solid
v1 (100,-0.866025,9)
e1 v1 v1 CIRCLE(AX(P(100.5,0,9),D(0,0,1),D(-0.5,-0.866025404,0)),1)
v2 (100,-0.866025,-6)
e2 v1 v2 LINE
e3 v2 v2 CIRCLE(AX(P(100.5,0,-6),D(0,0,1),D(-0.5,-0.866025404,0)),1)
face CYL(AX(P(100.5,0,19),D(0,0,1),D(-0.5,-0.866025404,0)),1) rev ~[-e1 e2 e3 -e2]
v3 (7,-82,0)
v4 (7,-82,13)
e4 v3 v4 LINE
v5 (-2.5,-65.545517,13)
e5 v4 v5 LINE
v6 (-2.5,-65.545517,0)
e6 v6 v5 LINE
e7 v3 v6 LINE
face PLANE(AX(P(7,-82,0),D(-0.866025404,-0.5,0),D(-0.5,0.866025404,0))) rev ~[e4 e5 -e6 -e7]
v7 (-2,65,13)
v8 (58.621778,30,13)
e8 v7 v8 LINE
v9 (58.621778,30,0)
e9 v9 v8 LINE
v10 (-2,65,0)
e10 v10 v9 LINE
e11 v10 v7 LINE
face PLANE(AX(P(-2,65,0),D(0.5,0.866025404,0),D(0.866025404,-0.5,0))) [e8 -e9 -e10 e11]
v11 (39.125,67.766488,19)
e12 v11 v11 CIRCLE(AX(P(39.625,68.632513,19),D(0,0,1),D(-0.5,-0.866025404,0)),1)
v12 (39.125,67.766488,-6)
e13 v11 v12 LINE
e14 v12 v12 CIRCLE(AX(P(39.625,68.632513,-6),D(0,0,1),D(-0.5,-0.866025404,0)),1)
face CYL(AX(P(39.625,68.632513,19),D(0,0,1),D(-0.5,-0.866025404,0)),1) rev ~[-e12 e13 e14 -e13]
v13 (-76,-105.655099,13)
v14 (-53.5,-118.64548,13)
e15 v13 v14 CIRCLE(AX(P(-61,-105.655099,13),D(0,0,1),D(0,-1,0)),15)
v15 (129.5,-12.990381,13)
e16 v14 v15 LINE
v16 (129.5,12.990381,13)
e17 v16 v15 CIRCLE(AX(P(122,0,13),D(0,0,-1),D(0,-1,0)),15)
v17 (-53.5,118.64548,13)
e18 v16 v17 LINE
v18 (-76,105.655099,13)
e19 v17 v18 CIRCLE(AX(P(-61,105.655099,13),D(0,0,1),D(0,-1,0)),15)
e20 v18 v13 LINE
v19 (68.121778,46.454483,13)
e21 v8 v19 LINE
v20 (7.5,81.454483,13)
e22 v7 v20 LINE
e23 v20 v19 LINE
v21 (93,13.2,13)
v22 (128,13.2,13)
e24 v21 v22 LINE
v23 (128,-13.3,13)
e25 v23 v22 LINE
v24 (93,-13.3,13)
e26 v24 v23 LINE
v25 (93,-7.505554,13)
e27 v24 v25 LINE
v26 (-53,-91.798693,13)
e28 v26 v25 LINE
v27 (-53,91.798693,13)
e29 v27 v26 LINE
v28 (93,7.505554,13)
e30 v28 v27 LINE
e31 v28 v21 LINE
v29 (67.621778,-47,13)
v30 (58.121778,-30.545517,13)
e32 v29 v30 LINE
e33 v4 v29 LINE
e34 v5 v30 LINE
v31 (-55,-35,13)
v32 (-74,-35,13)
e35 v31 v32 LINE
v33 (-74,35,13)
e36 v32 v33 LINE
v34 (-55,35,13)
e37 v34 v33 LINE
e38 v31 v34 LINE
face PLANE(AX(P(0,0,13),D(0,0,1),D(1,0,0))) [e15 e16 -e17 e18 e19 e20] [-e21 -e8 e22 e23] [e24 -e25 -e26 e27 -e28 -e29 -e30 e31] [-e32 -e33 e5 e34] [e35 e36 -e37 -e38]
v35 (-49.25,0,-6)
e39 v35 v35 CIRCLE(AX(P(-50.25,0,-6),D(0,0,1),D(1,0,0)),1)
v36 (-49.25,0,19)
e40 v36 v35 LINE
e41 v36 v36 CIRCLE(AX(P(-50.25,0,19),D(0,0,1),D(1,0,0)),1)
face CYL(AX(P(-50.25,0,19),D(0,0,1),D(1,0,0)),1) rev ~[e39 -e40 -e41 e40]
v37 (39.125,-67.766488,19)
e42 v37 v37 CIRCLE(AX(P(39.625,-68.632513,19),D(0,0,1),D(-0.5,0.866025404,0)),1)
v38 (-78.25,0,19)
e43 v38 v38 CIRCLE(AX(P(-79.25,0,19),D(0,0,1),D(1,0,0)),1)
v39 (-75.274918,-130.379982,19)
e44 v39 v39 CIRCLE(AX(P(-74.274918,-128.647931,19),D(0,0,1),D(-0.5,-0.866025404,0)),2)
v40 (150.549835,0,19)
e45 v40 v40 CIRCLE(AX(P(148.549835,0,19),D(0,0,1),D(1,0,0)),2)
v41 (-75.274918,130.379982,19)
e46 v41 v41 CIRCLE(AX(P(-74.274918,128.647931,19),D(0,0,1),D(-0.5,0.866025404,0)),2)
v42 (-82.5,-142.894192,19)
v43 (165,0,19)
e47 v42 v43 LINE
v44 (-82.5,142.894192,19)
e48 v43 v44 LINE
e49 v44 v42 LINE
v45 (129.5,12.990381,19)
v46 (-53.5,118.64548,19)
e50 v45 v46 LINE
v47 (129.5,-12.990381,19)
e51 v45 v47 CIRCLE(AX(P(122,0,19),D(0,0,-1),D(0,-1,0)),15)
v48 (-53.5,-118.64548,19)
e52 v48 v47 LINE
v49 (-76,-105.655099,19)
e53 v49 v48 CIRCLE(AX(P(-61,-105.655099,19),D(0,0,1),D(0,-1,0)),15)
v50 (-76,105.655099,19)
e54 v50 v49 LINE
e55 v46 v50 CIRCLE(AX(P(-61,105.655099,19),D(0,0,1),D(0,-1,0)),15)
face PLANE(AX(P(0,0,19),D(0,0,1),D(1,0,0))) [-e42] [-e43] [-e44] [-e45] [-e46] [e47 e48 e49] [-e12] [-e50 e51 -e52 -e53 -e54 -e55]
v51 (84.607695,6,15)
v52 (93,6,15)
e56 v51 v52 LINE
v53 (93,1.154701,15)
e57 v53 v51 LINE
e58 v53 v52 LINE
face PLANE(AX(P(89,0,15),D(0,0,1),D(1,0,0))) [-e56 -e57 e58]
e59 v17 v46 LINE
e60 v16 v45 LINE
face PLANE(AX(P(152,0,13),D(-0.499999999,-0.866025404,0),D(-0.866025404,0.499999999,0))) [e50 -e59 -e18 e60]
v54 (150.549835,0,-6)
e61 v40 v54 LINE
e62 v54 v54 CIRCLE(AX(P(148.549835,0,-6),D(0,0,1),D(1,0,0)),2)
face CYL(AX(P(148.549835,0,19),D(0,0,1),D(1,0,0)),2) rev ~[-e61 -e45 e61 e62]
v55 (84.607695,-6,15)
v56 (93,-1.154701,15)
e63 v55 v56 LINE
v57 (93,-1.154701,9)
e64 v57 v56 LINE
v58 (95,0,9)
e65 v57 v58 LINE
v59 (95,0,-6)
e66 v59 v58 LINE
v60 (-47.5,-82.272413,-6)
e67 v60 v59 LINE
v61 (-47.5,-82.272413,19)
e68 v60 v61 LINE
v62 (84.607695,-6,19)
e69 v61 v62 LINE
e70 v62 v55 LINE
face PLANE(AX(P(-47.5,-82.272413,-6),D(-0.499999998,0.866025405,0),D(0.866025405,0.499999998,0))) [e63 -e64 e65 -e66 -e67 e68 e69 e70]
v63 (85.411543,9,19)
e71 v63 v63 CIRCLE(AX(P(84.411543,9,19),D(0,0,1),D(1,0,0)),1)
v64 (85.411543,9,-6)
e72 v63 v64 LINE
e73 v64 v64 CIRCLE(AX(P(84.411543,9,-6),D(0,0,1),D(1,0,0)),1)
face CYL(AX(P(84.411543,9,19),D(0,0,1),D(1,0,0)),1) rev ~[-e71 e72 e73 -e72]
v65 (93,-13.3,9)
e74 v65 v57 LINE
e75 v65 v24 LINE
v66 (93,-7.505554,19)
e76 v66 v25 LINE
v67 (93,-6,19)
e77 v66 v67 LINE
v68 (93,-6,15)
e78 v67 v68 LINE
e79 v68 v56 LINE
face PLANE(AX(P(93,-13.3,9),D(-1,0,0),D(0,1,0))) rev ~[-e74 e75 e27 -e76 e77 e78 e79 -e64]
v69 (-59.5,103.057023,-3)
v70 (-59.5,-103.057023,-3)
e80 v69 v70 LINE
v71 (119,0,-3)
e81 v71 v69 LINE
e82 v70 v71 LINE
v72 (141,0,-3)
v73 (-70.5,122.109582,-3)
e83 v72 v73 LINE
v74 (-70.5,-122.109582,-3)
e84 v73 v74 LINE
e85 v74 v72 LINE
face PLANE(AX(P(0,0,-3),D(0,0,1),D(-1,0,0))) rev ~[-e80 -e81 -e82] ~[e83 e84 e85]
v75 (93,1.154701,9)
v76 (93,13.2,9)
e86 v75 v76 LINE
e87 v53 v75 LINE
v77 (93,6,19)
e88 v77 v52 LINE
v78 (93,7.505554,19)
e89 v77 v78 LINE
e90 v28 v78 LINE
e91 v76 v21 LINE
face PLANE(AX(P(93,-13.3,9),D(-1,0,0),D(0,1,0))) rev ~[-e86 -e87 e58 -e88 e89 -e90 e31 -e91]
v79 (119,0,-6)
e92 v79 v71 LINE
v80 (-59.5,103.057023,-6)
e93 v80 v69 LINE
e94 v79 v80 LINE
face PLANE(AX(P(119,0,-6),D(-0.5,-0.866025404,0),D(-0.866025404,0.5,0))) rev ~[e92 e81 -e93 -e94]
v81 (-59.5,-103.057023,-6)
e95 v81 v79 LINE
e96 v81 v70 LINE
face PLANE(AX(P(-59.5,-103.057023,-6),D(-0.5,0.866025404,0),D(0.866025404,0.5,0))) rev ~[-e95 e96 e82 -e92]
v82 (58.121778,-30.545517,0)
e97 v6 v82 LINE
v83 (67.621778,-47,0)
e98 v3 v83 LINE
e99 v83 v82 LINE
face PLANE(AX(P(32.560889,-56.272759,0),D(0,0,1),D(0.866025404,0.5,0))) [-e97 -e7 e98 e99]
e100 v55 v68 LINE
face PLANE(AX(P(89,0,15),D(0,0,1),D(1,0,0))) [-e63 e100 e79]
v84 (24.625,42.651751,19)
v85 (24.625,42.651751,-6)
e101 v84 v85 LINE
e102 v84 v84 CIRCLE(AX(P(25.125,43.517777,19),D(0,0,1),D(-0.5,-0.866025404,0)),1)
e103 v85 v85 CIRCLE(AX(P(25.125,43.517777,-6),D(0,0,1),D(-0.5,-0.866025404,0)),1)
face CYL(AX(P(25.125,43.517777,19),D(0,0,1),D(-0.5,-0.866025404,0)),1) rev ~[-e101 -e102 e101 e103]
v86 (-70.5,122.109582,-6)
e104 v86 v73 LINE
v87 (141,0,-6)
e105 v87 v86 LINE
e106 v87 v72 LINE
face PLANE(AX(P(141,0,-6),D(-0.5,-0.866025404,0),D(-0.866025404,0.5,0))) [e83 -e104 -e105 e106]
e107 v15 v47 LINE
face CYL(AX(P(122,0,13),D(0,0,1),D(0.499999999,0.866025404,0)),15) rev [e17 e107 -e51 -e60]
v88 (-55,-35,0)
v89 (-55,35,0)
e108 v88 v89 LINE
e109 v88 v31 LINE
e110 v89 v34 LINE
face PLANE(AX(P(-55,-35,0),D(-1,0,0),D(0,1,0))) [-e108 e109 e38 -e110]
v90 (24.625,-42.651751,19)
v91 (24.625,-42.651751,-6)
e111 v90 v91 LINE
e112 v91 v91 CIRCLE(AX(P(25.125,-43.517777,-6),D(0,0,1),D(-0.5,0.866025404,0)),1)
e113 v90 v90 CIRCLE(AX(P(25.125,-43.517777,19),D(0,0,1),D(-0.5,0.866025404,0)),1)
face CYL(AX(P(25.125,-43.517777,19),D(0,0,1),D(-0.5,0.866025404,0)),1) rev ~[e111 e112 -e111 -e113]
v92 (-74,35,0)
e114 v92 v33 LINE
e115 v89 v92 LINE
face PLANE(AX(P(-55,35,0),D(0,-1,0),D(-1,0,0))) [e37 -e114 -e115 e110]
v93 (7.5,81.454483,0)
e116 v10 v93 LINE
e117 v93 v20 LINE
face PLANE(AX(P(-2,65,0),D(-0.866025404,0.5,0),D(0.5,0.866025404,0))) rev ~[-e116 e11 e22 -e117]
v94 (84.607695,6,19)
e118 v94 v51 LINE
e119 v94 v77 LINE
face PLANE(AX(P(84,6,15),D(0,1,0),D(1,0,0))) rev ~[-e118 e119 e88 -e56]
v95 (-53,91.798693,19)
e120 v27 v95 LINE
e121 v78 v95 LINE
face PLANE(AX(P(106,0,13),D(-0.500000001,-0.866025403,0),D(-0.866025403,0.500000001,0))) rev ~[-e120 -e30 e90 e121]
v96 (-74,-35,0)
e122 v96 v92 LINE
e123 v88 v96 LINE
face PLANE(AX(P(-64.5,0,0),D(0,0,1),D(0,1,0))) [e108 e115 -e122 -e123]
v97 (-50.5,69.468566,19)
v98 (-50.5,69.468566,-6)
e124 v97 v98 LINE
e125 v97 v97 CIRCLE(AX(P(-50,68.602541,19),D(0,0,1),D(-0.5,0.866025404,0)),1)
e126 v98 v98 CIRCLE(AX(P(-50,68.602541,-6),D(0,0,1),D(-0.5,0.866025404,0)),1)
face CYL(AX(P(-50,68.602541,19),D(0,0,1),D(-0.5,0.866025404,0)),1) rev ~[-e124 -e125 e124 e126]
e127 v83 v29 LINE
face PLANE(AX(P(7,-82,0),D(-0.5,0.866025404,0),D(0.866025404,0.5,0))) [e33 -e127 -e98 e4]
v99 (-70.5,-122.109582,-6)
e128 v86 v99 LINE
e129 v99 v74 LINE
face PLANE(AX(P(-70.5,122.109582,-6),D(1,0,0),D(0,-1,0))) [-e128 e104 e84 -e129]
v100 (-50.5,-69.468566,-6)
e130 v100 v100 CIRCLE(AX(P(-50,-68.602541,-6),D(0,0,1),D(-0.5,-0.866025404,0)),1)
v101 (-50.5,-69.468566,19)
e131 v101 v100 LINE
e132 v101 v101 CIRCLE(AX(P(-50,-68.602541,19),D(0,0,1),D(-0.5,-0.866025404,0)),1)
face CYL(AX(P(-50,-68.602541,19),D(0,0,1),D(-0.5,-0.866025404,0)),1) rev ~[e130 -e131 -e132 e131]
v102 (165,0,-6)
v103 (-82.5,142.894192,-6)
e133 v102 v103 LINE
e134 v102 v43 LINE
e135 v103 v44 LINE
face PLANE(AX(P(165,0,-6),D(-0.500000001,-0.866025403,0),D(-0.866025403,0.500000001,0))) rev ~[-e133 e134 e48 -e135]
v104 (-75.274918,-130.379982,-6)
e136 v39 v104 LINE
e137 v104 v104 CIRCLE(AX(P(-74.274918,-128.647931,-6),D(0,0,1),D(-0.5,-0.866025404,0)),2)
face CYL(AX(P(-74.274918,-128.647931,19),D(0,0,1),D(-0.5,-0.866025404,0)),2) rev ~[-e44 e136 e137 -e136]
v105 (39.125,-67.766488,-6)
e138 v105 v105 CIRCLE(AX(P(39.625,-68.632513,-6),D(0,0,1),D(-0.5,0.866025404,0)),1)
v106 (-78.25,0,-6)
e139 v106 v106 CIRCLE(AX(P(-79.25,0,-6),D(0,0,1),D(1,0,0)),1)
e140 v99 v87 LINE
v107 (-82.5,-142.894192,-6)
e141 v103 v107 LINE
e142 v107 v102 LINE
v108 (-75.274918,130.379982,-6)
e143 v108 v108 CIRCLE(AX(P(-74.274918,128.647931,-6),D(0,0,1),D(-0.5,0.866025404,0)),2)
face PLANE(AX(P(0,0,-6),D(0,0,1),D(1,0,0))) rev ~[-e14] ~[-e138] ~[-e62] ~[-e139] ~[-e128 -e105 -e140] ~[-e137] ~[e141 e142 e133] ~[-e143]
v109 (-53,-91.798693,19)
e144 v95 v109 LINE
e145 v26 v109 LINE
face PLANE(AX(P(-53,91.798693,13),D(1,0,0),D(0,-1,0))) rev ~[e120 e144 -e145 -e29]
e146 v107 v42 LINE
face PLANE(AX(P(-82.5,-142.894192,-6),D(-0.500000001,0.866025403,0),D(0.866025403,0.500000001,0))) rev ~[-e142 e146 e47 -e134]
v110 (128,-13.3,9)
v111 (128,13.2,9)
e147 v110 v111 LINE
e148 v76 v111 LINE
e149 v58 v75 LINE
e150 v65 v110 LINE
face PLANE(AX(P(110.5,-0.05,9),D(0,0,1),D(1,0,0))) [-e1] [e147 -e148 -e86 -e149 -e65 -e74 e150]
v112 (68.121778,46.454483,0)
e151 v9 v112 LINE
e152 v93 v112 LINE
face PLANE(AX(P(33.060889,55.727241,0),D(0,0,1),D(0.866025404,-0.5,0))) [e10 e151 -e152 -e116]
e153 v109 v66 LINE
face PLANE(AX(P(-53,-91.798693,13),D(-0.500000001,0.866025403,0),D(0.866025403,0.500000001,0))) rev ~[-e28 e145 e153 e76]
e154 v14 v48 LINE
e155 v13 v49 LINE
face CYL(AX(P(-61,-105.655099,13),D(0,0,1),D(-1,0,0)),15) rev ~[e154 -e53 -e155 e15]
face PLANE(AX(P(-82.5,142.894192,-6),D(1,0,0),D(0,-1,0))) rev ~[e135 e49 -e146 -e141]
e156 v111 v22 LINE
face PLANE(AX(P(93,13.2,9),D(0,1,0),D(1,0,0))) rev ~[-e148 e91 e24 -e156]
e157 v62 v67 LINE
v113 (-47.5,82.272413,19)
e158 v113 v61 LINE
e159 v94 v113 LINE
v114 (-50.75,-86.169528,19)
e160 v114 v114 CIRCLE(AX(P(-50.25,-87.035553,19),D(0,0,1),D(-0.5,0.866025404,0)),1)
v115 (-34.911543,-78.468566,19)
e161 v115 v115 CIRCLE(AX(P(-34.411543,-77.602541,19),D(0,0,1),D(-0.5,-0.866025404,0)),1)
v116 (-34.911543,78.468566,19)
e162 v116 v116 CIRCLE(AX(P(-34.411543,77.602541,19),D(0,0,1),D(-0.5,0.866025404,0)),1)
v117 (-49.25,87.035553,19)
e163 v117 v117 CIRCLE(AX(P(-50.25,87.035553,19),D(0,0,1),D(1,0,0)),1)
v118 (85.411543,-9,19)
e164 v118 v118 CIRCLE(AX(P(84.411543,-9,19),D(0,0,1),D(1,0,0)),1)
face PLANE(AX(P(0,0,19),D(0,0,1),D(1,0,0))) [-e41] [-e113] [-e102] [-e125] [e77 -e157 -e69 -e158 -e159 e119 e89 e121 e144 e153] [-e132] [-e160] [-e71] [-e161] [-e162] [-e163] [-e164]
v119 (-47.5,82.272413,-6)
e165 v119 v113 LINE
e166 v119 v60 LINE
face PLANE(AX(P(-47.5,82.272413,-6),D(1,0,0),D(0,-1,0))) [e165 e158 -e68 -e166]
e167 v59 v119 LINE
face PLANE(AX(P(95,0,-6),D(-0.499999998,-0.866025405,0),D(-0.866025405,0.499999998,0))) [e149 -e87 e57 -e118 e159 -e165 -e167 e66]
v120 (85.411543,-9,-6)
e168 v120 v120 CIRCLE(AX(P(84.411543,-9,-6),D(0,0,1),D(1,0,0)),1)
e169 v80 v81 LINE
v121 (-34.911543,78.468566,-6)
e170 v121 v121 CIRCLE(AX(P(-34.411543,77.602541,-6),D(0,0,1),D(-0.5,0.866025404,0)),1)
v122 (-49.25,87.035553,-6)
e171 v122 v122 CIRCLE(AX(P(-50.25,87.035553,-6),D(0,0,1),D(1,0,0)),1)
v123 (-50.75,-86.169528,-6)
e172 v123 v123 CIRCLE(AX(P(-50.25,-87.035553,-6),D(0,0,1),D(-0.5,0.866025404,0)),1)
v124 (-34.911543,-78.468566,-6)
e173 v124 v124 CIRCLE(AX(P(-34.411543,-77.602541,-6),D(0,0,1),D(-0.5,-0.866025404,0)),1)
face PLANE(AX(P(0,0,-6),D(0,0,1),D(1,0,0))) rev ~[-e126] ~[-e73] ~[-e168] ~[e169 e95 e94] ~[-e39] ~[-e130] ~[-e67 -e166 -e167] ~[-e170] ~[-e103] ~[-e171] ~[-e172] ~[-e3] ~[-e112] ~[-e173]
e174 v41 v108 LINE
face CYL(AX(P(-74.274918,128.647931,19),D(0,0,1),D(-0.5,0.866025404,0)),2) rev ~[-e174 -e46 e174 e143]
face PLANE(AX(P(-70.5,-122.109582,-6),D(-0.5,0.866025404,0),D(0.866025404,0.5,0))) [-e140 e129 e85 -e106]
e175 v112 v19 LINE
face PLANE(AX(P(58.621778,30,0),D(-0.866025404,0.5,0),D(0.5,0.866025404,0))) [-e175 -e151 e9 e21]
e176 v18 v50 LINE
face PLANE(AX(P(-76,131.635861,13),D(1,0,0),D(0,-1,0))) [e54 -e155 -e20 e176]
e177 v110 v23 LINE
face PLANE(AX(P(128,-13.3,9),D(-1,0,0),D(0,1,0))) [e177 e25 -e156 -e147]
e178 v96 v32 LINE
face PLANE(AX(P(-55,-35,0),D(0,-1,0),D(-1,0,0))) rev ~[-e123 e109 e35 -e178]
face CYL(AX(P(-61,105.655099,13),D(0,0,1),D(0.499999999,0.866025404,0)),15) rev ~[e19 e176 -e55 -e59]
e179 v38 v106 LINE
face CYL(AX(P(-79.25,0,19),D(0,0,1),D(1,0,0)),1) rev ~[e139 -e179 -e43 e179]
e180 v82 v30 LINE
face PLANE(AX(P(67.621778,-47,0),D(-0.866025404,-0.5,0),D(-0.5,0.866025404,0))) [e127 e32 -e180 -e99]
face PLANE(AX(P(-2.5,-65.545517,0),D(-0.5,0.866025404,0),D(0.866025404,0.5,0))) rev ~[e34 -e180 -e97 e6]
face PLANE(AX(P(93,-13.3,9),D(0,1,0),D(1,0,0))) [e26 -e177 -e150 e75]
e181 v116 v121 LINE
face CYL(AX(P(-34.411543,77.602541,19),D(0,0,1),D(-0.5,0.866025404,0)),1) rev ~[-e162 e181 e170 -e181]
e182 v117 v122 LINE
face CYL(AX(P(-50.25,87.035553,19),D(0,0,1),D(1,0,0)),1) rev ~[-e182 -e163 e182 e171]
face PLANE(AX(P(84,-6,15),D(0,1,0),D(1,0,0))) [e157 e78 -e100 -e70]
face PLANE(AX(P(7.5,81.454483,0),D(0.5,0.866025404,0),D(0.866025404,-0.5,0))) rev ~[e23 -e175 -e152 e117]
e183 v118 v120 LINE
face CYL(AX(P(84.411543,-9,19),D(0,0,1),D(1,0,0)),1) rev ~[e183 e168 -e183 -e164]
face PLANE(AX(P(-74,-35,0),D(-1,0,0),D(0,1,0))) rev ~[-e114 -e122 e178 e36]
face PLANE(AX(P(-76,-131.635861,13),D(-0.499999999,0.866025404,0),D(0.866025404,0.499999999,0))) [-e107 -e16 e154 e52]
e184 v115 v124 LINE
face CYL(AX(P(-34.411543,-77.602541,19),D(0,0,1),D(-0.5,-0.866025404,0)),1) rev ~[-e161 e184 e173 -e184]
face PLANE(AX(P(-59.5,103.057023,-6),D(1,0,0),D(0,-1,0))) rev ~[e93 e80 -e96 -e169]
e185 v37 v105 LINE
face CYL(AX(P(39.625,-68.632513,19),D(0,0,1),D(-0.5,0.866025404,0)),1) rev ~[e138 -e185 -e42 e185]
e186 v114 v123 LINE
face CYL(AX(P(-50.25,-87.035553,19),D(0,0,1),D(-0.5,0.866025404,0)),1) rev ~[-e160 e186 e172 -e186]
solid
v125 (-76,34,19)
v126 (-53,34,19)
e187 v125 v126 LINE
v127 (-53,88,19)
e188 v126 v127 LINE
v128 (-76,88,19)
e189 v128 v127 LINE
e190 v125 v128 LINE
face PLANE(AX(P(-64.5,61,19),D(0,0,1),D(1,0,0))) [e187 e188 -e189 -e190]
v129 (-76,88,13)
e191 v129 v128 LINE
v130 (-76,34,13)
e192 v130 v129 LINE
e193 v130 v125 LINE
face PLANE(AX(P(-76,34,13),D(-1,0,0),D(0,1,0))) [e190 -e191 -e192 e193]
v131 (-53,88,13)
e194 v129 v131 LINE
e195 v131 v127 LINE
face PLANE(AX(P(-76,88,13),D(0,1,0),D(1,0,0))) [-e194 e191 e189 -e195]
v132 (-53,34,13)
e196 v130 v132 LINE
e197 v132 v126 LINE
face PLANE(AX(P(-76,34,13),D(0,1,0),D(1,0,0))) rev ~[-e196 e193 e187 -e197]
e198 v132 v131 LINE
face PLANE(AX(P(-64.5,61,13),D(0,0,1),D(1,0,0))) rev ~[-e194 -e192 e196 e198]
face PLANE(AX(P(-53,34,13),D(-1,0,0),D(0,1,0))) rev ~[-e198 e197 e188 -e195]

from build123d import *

# Parameters (mm, degrees)
BOX005_W               = 23
BOX005_H               = 54
BOX005_DEPTH           = 6
PRISM003_DEPTH         = 6
PRISM002_DEPTH         = 6
BOX004_W               = 10
BOX004_H               = 12
BOX004_DEPTH           = 4
BOX003_W               = 35
BOX003_H               = 26.5
BOX003_DEPTH           = 10
BOX002_W               = 70
BOX002_H               = 19
BOX002_DEPTH           = 19
BOX002_PLACEMENT_ANGLE = 30
BOX001_W               = 70
BOX001_H               = 19
BOX001_DEPTH           = 19
BOX001_PLACEMENT_ANGLE = 90
BOX_W                  = 70
BOX_H                  = 19
BOX_DEPTH              = 19
BOX_PLACEMENT_ANGLE    = 30
PRISM001_DEPTH         = 25
PRISM_DEPTH            = 25
FILLET_R               = 15
SKETCH001_R            = 2
POCKET_DEPTH           = 782.777352
POLARPATTERN_COUNT     = 3
POCKET001_DEPTH        = 3
SKETCH002_R            = 1
POCKET002_DEPTH        = 782.777352
POLARPATTERN001_COUNT  = 3
SKETCH004_R            = 1
POCKET003_DEPTH        = 782.777352
POLARPATTERN002_COUNT  = 3
POLARPATTERN003_COUNT  = 3
SKETCH005_R            = 1
POCKET004_DEPTH        = 782.777352
POLARPATTERN004_COUNT  = 3


with BuildPart() as box005:
    # Box005 → Box005 (new body)
    with BuildSketch(Plane(origin=(-76, 34, 13), x_dir=(1, 0, 0), z_dir=(0, 0, 1))):
        with Locations((11.5, 27)):
            Rectangle(BOX005_W, BOX005_H)
    extrude(amount=BOX005_DEPTH)


with BuildPart() as prism003:
    # Prism003 → Prism003 (new body)
    with BuildSketch(Plane.XY.offset(13)):
        Polygon((106, 0), (-53, 91.798693), (-53, -91.798693), align=None)
    extrude(amount=PRISM003_DEPTH)


with BuildPart() as cut006:
    # Prism002 → Prism002 (new body)
    with BuildSketch(Plane.XY.offset(13)):
        Polygon((152, 0), (-76, 131.635861), (-76, -131.635861), align=None)
    extrude(amount=PRISM002_DEPTH)

    # Cut006: cut Prism003
    add(prism003.part, mode=Mode.SUBTRACT)


with BuildPart() as box004:
    # Box004 → Box004 (new body)
    with BuildSketch(Plane(origin=(84, -6, 15), x_dir=(1, 0, 0), z_dir=(0, 0, 1))):
        with Locations((5, 6)):
            Rectangle(BOX004_W, BOX004_H)
    extrude(amount=BOX004_DEPTH)


with BuildPart() as box003:
    # Box003 → Box003 (new body)
    with BuildSketch(Plane(origin=(93, -13.3, 9), x_dir=(1, 0, 0), z_dir=(0, 0, 1))):
        with Locations((17.5, 13.25)):
            Rectangle(BOX003_W, BOX003_H)
    extrude(amount=BOX003_DEPTH)


with BuildPart() as box002:
    # Box002 → Box002 (new body)
    with BuildSketch(Plane.XY):
        with Locations((35, 9.5)):
            Rectangle(BOX002_W, BOX002_H)
    extrude(amount=BOX002_DEPTH)


with BuildPart() as box002_1:
    # Box002 placement: moved
    add(box002.part.moved(Location((7, -82, 0))).rotate(Axis((7, -82, 0), (0, 0, 1)), BOX002_PLACEMENT_ANGLE))


with BuildPart() as box001:
    # Box001 → Box001 (new body)
    with BuildSketch(Plane.XY):
        with Locations((35, 9.5)):
            Rectangle(BOX001_W, BOX001_H)
    extrude(amount=BOX001_DEPTH)


with BuildPart() as box001_1:
    # Box001 placement: moved
    add(box001.part.moved(Location((-55, -35, 0))).rotate(Axis((-55, -35, 0), (0, 0, 1)), BOX001_PLACEMENT_ANGLE))


with BuildPart() as box:
    # Box → Box (new body)
    with BuildSketch(Plane.XY):
        with Locations((35, 9.5)):
            Rectangle(BOX_W, BOX_H)
    extrude(amount=BOX_DEPTH)


with BuildPart() as box_1:
    # Box placement: moved
    add(box.part.moved(Location((-2, 65, 0))).rotate(Axis((-2, 65, 0), (0, 0, -1)), BOX_PLACEMENT_ANGLE))


with BuildPart() as prism001:
    # Prism001 → Prism001 (new body)
    with BuildSketch(Plane.XY.offset(-6)):
        Polygon((95, 0), (-47.5, 82.272413), (-47.5, -82.272413), align=None)
    extrude(amount=PRISM001_DEPTH)


with BuildPart() as body:
    # Prism → Prism (new body)
    with BuildSketch(Plane.XY.offset(-6)):
        Polygon((165, 0), (-82.5, 142.894192), (-82.5, -142.894192), align=None)
    extrude(amount=PRISM_DEPTH)

    # Cut: cut Prism001
    add(prism001.part, mode=Mode.SUBTRACT)

    # Cut001: cut Box
    add(box_1.part, mode=Mode.SUBTRACT)

    # Cut002: cut Box001
    add(box001_1.part, mode=Mode.SUBTRACT)

    # Cut003: cut Box002
    add(box002_1.part, mode=Mode.SUBTRACT)

    # Cut004: cut Box003
    add(box003.part, mode=Mode.SUBTRACT)

    # Cut005: cut Box004
    add(box004.part, mode=Mode.SUBTRACT)

    # Cut007: cut Cut006
    add(cut006.part, mode=Mode.SUBTRACT)

    # Fillet
    fillet_edges = [body.edges().sort_by_distance(p)[0] for p in [
        (152, 0, 16),
        (-76, 131.635861, 16),
        (-76, -131.635861, 16),
    ]]
    fillet(fillet_edges, radius=FILLET_R)

    # Sketch001 (on Face1 of BaseFeature) → Pocket (cut, through all)
    with BuildSketch(Plane.XY.offset(19)):
        with Locations((148.549835, 0)):
            Circle(SKETCH001_R)
    pocket = extrude(amount=-POCKET_DEPTH, mode=Mode.SUBTRACT)

    # PolarPattern: Pocket ×3 about axis
    polarpattern_axis = Axis((0, 0, 19), (0, 0, 1))
    for i in range(1, POLARPATTERN_COUNT):
        add(pocket.rotate(polarpattern_axis, i * 360 / POLARPATTERN_COUNT), mode=Mode.SUBTRACT)

    # Sketch003 (on Face14 of PolarPattern) → Pocket001 (cut)
    with BuildSketch(Plane(origin=(0, 0, -6), x_dir=(1, 0, 0), z_dir=(0, 0, -1))):
        Polygon((-70.5, 122.109582), (141, 0), (-70.5, -122.109582), align=None)
        Polygon((-59.5, -103.057023), (-59.5, 103.057023), (119, 0), align=None, mode=Mode.SUBTRACT)
    extrude(amount=-POCKET001_DEPTH, mode=Mode.SUBTRACT)

    # Sketch002 (on Face39 of PolarPattern) → Pocket002 (cut, through all)
    with BuildSketch(Plane.XY.offset(19)):
        with Locations((-50.25, 0)):
            Circle(SKETCH002_R)
        with Locations((-50.25, 87.035553)):
            Circle(SKETCH002_R)
    pocket002 = extrude(amount=-POCKET002_DEPTH, mode=Mode.SUBTRACT)

    # PolarPattern001: Pocket002 ×3 about axis
    polarpattern001_axis = Axis((0, 0, 19), (0, 0, 1))
    for i in range(1, POLARPATTERN001_COUNT):
        add(pocket002.rotate(polarpattern001_axis, i * 360 / POLARPATTERN001_COUNT), mode=Mode.SUBTRACT)

    # Sketch004 (on Face40 of PolarPattern001) → Pocket003 (cut, through all)
    with BuildSketch(Plane.XY.offset(19)):
        with Locations((84.411543, 9)):
            Circle(SKETCH004_R)
        with Locations((84.411543, -9)):
            Circle(SKETCH004_R)
    pocket003 = extrude(amount=-POCKET003_DEPTH, mode=Mode.SUBTRACT)

    # PolarPattern002: Pocket003 ×3 about axis
    polarpattern002_axis = Axis((0, 0, 19), (0, 0, 1))
    for i in range(1, POLARPATTERN002_COUNT):
        add(pocket003.rotate(polarpattern002_axis, i * 360 / POLARPATTERN002_COUNT), mode=Mode.SUBTRACT)

    # PolarPattern003: Pocket002 ×3 about axis
    polarpattern003_axis = Axis((0, 0, 19), (0, 0, 1))
    for i in range(1, POLARPATTERN003_COUNT):
        add(pocket002.rotate(polarpattern003_axis, i * 360 / POLARPATTERN003_COUNT), mode=Mode.SUBTRACT)

    # Sketch005 (on Face1 of PolarPattern003) → Pocket004 (cut, through all)
    with BuildSketch(Plane.XY.offset(19)):
        with Locations((-79.25, 0)):
            Circle(SKETCH005_R)
    pocket004 = extrude(amount=-POCKET004_DEPTH, mode=Mode.SUBTRACT)

    # PolarPattern004: Pocket004 ×3 about axis
    polarpattern004_axis = Axis((0, 0, 19), (0, 0, 1))
    for i in range(1, POLARPATTERN004_COUNT):
        add(pocket004.rotate(polarpattern004_axis, i * 360 / POLARPATTERN004_COUNT), mode=Mode.SUBTRACT)


solid = Compound([box005.part, body.part])
